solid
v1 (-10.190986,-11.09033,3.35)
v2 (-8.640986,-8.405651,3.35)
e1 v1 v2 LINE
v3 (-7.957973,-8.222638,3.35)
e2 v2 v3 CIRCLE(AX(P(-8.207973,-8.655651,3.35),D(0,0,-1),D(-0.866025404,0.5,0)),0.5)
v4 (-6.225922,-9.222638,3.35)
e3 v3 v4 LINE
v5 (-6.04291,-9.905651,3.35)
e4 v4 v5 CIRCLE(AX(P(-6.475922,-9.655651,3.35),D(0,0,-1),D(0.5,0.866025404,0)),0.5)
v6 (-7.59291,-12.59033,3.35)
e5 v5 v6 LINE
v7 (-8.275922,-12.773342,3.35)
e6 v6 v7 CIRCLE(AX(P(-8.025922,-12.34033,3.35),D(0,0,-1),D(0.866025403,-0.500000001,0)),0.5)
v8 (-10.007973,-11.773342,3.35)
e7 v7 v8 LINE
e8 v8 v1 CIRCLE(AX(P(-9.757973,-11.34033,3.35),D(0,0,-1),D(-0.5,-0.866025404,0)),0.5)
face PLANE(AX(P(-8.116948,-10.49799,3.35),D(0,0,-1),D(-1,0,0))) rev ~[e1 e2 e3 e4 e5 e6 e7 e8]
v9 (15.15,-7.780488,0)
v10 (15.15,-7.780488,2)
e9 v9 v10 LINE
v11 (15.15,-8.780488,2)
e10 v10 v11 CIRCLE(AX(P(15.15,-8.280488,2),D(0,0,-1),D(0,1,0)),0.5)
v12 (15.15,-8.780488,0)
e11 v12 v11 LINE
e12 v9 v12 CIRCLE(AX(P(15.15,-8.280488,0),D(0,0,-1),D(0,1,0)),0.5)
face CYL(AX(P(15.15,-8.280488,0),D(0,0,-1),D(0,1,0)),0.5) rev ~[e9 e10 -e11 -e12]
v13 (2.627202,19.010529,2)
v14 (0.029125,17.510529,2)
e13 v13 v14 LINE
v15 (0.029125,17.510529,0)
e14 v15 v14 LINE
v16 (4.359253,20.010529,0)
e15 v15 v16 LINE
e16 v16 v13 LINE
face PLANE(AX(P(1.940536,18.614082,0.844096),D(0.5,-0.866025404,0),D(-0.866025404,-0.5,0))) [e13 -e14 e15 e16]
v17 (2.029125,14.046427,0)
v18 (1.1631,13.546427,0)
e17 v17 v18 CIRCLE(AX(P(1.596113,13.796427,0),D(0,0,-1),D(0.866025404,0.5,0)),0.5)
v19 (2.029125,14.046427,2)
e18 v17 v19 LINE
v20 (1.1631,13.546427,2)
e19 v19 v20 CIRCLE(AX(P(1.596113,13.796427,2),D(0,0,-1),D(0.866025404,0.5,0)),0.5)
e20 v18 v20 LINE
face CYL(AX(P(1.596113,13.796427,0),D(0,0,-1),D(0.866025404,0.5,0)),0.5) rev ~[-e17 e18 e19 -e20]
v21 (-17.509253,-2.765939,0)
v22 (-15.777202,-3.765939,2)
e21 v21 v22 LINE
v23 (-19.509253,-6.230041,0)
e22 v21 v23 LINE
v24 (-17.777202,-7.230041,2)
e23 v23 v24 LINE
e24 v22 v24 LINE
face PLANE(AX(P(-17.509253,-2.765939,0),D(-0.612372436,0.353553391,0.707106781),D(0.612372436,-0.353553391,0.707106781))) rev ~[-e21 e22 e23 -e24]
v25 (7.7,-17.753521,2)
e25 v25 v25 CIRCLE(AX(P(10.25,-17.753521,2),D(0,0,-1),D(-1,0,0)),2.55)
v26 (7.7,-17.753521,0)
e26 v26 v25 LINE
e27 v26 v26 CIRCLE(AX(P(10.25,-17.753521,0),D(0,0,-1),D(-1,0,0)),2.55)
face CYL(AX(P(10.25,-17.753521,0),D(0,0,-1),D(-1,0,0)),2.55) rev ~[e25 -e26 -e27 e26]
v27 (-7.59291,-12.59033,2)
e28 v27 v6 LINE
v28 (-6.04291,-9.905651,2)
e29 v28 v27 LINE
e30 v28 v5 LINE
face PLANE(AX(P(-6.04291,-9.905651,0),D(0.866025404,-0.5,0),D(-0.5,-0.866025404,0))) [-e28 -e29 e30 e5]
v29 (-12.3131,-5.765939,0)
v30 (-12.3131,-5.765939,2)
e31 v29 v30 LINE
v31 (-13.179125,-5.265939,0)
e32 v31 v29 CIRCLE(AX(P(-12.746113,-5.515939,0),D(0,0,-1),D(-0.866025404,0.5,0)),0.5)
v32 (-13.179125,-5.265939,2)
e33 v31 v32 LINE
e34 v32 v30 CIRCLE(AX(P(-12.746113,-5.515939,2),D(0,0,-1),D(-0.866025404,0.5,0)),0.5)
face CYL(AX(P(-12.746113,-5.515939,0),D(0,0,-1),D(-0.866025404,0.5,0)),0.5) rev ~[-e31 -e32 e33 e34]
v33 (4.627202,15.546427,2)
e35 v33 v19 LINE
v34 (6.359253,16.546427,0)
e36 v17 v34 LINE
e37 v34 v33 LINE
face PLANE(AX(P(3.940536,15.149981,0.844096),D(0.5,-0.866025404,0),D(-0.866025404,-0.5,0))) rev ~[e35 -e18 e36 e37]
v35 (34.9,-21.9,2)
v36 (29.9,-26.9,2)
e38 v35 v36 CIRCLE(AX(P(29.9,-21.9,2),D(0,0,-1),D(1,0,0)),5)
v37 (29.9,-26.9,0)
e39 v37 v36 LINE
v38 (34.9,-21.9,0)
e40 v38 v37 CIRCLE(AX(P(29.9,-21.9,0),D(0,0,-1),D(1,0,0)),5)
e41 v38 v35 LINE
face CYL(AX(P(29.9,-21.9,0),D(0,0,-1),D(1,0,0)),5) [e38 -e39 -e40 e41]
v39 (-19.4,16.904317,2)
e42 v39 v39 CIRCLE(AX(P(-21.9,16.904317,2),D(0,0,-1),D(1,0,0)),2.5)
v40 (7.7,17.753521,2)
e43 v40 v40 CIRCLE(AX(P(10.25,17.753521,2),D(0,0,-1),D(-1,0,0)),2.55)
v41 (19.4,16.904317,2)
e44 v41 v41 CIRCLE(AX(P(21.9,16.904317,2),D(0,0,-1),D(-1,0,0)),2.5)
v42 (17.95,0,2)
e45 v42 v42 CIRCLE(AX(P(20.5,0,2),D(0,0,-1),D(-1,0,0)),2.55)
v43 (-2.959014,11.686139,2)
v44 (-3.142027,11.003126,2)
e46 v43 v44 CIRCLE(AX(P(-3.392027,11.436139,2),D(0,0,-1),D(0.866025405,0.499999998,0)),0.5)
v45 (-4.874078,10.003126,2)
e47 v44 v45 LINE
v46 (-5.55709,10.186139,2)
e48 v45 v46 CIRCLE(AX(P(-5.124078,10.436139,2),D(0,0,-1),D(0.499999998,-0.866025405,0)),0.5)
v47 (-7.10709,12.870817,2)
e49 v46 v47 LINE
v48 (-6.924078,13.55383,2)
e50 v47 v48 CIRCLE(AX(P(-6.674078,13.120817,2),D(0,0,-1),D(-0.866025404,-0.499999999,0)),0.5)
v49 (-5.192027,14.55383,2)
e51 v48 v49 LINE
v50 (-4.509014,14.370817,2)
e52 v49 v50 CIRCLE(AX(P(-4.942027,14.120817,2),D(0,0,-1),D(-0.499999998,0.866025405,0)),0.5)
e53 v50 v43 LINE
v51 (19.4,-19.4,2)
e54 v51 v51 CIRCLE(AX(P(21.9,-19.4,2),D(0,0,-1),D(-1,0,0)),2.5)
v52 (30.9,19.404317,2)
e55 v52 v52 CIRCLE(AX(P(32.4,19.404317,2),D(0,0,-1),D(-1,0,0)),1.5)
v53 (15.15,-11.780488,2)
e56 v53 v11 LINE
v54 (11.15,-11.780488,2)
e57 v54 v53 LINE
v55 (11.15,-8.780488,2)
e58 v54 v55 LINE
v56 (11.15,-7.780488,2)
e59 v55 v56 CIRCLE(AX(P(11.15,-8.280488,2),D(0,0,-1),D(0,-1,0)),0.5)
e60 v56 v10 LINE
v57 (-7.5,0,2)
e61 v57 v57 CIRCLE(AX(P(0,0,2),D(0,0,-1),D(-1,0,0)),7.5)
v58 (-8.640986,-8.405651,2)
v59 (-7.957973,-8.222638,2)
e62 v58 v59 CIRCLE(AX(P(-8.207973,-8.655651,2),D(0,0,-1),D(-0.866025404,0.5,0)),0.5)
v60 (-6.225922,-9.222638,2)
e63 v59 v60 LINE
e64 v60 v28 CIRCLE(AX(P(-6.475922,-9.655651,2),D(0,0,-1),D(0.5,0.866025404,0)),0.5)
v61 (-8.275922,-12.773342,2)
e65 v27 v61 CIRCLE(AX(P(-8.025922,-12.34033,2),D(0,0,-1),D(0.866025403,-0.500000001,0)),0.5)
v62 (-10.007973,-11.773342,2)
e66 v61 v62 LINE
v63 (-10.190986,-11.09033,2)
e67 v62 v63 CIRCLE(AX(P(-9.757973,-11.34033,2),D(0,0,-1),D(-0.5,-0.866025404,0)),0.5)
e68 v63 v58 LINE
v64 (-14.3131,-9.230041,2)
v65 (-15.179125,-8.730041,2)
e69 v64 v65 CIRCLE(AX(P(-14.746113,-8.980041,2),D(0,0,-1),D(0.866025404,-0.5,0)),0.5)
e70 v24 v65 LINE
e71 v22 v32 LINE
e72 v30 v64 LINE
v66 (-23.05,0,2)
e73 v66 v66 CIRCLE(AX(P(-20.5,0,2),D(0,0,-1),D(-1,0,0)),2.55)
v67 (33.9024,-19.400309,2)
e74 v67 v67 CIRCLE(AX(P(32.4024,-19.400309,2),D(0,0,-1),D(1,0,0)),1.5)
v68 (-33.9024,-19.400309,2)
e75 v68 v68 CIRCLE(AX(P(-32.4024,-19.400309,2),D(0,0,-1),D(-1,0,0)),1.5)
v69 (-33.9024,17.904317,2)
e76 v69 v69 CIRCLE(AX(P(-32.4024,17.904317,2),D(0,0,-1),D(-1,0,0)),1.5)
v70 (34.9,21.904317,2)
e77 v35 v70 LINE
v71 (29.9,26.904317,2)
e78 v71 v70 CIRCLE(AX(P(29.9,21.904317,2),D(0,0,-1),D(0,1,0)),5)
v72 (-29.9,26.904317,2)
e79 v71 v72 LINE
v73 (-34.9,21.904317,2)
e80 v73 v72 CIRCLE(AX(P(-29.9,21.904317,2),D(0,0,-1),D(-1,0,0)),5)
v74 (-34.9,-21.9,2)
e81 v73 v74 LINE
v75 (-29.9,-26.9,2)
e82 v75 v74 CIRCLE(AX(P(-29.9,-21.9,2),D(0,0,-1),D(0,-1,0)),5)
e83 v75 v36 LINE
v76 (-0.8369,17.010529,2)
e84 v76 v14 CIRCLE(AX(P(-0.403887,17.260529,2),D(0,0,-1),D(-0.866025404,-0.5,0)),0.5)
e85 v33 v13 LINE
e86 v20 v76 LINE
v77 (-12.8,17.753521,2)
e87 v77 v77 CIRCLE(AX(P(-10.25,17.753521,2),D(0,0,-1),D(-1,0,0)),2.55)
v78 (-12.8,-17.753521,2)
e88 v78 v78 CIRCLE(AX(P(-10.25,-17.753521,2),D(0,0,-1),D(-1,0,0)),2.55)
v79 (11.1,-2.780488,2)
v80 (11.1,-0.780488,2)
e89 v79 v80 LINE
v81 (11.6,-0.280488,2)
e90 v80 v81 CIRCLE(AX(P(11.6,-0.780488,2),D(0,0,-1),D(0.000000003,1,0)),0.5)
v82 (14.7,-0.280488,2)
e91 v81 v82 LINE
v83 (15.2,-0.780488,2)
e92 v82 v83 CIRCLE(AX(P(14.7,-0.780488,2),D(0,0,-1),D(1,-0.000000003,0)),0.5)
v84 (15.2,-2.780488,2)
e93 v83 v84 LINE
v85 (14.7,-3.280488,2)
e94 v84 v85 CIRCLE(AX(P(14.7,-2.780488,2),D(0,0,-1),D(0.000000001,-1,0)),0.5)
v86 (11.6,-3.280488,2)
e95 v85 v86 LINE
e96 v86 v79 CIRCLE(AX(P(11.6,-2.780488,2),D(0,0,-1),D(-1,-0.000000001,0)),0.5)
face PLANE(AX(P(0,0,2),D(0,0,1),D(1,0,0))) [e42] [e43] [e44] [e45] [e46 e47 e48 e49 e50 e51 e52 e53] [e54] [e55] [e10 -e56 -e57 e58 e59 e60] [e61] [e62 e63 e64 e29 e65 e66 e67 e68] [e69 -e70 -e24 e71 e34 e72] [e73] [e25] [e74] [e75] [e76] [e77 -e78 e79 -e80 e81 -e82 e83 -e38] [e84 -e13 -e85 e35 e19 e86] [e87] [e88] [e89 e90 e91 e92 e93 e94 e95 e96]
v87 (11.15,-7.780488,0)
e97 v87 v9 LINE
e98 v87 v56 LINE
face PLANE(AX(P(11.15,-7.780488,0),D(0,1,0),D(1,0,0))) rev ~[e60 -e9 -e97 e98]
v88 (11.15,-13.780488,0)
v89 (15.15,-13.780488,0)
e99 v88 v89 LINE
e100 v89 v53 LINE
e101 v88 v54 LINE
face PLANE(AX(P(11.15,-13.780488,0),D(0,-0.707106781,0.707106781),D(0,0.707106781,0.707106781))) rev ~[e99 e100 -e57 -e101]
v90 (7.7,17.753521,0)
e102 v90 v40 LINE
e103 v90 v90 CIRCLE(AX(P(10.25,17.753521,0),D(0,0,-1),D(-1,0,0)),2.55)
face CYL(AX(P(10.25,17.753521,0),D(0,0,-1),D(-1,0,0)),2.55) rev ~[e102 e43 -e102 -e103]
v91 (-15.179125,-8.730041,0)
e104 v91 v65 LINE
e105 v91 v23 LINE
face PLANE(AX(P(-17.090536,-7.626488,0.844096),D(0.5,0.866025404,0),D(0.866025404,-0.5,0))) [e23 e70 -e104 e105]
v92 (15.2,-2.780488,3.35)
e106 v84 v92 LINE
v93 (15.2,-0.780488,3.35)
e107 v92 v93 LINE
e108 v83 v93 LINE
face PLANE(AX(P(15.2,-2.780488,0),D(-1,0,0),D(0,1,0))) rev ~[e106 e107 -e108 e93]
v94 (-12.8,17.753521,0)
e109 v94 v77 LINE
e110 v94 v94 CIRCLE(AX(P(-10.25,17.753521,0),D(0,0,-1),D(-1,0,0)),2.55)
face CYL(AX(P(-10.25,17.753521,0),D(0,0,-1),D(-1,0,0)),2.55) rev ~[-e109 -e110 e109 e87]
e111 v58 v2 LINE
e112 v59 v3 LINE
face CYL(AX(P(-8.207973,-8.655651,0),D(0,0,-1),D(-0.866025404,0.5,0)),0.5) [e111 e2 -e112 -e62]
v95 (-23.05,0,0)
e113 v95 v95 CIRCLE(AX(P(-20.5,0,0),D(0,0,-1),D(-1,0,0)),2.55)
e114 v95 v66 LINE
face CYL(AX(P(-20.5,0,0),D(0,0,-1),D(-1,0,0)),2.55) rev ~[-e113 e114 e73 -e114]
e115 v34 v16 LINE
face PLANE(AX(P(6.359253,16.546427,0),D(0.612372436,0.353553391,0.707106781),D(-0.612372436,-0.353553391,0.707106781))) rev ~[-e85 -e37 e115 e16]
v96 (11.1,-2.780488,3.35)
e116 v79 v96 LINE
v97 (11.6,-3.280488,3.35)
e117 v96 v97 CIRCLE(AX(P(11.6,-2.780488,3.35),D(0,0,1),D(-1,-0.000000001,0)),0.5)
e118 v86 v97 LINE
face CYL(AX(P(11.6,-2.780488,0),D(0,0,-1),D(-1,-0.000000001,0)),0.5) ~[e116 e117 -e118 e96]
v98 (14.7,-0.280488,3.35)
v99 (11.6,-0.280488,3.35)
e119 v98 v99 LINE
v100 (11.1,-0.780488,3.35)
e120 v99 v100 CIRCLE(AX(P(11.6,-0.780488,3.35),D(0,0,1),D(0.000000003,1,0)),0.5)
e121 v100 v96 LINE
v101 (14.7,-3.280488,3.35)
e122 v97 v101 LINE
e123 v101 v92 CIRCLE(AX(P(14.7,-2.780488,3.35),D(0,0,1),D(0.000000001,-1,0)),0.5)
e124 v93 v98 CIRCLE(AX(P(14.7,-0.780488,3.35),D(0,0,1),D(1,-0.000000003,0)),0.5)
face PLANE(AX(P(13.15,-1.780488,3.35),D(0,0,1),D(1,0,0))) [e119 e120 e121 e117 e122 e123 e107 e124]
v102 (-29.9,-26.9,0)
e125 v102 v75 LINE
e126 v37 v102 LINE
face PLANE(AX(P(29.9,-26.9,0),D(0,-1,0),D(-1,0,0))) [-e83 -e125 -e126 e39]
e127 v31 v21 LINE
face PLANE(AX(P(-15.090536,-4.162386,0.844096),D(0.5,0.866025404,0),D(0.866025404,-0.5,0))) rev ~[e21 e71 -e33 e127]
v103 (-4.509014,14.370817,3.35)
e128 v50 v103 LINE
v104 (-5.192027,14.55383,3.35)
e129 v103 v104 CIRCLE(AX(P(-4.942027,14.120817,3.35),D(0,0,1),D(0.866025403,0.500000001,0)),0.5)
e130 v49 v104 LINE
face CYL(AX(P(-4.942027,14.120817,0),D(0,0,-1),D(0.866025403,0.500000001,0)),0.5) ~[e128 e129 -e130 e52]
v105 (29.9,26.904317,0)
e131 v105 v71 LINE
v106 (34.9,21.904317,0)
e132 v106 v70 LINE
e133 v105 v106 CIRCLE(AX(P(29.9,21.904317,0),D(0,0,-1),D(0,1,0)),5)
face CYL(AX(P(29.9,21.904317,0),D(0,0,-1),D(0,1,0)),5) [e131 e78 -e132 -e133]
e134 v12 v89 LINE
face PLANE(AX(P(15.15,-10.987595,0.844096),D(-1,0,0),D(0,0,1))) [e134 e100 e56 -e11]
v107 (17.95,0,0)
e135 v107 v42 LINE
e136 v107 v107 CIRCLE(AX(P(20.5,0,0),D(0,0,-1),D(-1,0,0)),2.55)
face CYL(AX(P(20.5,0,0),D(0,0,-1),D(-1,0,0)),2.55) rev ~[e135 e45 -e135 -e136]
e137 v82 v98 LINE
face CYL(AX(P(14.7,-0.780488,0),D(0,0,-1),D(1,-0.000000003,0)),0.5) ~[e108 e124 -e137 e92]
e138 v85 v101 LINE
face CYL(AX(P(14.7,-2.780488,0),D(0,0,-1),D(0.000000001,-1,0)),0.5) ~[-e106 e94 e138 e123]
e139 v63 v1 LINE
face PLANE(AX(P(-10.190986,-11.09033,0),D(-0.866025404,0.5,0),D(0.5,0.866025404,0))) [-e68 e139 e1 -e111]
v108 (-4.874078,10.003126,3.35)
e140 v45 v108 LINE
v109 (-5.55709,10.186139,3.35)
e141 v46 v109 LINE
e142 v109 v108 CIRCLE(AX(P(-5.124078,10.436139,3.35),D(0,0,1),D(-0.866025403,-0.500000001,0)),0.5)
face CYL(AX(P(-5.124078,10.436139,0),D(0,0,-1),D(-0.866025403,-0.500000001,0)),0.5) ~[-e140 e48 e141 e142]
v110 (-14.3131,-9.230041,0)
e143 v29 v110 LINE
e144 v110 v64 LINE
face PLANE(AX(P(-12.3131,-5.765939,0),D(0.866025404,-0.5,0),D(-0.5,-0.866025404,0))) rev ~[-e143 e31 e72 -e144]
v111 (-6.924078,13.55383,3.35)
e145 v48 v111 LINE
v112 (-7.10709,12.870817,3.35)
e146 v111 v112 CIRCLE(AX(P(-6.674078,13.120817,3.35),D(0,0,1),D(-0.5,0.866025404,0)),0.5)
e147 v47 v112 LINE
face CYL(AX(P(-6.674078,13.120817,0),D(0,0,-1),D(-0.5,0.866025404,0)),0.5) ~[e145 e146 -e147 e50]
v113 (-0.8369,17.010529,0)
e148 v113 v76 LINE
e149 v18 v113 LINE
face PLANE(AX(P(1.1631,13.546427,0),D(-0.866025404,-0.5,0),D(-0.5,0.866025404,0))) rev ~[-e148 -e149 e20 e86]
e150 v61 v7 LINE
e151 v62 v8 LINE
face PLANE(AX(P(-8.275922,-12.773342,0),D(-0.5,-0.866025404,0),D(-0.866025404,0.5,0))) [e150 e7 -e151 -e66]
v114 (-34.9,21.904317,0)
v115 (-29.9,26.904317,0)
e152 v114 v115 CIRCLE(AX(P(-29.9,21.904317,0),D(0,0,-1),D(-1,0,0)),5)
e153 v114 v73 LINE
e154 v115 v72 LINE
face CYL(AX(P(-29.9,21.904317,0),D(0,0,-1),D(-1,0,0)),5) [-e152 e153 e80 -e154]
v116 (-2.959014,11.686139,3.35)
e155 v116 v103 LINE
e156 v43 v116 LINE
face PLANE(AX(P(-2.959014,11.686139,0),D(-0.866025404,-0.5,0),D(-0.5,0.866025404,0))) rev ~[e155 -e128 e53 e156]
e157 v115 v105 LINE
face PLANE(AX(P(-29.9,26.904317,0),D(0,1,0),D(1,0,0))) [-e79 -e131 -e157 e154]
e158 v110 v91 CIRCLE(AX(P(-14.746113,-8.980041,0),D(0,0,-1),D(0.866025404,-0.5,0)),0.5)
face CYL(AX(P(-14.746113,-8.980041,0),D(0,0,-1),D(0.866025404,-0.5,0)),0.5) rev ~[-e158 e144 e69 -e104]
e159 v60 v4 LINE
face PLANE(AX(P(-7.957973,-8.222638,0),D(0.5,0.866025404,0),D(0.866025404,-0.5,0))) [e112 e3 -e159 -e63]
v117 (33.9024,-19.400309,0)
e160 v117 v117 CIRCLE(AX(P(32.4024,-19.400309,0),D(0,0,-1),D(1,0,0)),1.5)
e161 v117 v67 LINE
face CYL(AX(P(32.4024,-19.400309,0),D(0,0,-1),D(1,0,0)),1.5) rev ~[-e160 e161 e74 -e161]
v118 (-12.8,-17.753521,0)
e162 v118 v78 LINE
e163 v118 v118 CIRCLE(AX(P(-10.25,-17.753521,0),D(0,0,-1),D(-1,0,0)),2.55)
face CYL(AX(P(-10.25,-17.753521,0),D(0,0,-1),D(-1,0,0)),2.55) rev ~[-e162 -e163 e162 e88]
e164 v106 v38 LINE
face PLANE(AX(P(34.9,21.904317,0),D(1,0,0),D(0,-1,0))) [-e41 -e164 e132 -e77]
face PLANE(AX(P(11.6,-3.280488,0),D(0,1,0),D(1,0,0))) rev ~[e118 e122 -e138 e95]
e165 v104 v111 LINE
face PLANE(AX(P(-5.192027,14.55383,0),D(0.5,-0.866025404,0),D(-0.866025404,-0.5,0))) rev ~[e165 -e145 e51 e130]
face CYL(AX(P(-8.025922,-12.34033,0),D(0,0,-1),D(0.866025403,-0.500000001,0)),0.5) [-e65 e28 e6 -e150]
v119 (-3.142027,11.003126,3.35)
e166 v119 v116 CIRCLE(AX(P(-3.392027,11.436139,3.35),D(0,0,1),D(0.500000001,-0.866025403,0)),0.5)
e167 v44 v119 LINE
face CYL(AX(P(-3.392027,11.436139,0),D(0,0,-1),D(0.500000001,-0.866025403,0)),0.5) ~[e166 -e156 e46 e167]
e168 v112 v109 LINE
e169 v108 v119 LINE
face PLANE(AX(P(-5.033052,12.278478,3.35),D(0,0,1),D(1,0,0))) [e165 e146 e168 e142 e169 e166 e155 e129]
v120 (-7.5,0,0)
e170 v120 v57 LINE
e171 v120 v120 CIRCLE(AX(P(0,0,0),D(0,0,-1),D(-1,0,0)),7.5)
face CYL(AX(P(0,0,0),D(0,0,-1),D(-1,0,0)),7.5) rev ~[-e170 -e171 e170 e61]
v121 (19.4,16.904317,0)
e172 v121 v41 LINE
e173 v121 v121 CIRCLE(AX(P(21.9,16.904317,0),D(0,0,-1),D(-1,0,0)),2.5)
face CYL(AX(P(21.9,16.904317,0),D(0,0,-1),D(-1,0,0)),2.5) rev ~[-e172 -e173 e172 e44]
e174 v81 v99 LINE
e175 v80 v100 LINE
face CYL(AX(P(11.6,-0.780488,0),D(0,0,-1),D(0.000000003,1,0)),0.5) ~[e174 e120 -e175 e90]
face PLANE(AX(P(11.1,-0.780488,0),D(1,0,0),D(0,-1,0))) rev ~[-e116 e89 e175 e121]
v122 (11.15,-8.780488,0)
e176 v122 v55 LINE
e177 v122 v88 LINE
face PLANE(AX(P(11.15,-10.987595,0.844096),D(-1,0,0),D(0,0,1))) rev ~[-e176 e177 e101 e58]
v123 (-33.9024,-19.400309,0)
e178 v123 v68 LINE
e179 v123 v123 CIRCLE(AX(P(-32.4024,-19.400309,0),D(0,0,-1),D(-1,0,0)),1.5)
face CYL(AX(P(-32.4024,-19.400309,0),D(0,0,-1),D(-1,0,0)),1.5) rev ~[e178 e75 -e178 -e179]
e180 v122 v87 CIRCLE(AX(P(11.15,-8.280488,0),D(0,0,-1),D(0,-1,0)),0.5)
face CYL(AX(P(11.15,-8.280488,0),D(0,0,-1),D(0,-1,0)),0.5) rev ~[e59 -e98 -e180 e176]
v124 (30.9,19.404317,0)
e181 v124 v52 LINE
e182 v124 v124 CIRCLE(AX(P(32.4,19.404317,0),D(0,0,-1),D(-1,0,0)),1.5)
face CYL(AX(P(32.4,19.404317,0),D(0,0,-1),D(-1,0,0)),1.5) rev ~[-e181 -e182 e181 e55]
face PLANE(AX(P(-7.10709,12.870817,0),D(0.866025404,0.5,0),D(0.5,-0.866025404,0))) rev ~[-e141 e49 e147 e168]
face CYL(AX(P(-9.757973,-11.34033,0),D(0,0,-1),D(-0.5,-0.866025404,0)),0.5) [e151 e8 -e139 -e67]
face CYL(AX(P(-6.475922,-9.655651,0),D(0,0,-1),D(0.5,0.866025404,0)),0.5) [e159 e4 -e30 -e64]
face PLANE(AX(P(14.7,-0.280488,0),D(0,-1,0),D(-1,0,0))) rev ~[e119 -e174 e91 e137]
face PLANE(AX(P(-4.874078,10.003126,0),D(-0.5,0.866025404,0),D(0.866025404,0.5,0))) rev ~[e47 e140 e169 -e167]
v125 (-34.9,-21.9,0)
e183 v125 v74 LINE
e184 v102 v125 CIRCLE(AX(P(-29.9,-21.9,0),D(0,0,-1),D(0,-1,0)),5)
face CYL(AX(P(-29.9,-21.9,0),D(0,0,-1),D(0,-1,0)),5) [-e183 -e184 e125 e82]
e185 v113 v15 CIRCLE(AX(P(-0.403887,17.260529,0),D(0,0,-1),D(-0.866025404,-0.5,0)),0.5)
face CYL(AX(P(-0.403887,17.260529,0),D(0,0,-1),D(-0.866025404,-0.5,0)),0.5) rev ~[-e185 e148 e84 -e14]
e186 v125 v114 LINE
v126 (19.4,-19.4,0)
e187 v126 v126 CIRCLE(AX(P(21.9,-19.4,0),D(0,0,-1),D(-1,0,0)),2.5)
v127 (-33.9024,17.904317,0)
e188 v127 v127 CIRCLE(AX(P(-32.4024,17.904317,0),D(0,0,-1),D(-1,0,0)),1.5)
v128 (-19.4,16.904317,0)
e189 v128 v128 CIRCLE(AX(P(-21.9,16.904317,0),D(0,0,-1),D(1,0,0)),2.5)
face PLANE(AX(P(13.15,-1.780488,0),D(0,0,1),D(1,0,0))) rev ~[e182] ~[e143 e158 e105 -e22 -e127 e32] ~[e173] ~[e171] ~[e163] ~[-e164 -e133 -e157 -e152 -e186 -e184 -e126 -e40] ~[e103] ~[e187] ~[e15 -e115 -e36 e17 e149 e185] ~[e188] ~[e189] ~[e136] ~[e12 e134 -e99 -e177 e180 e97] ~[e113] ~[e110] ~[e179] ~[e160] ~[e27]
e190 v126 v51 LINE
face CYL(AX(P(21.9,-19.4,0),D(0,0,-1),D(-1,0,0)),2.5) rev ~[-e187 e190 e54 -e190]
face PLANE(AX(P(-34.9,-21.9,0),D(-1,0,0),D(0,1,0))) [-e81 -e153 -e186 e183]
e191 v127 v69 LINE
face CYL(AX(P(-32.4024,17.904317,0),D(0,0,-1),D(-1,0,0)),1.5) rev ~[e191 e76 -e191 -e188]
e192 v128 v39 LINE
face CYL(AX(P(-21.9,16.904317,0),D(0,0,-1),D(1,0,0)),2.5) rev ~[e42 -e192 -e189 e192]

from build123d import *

# Parameters (mm, degrees)
SKETCH_1_W          = 76
SKETCH_1_H          = 60
EXTRUDE_1_DEPTH     = 2
EXTRUDE_2_DEPTH     = 3.35
SKETCH_2_W          = 76
SKETCH_2_H          = 60
CUT_EXTRUDE_1_DEPTH = 2.95
SKETCH_3_R          = 2.55
CUT_EXTRUDE_2_DEPTH = 45.193605611
SKETCH_4_R          = 7.5
CUT_EXTRUDE_3_DEPTH = 45.193605611
SKETCH_5_R          = 1.5
CUT_EXTRUDE_4_DEPTH = 45.193605611
SKETCH_6_R          = 2.5
CUT_EXTRUDE_5_DEPTH = 45.193605611
CUT_EXTRUDE_6_DEPTH = 4
CUT_EXTRUDE_7_DEPTH = 4
CUT_EXTRUDE_8_DEPTH = 4


with BuildPart() as part:
    # 草圖1 → 填料-伸長1 (new body)
    with BuildSketch(Plane.XY):
        Rectangle(SKETCH_1_W, SKETCH_1_H)
        with BuildLine():
            ThreePointArc((-6.225922266, -9.22263808), (-5.992959353, -9.526241259), (-6.042909564, -9.905650781))
            Line((-6.042909564, -9.905650781), (-7.592909564, -12.590329533))
            ThreePointArc((-7.592909564, -12.590329533), (-7.896512744, -12.823292446), (-8.275922266, -12.773342235))
            Line((-8.275922266, -12.773342235), (-10.007973074, -11.773342235))
            ThreePointArc((-10.007973074, -11.773342235), (-10.240935987, -11.469739056), (-10.190985776, -11.090329533))
            Line((-10.190985776, -11.090329533), (-8.640985776, -8.405650781))
            ThreePointArc((-8.640985776, -8.405650781), (-8.337382596, -8.172687868), (-7.957973074, -8.22263808))
            Line((-7.957973074, -8.22263808), (-6.225922266, -9.22263808))
        make_face(mode=Mode.SUBTRACT)
        with BuildLine():
            Line((-12.313100093, -5.76593935), (-14.313100093, -9.230040965))
            ThreePointArc((-14.313100093, -9.230040965), (-14.996112795, -9.413053667), (-15.179125497, -8.730040965))
            Line((-15.179125497, -8.730040965), (-13.179125497, -5.26593935))
            ThreePointArc((-13.179125497, -5.26593935), (-12.496112795, -5.082926648), (-12.313100093, -5.76593935))
        make_face(mode=Mode.SUBTRACT)
        with BuildLine():
            ThreePointArc((11.15, -8.780487805), (10.65, -8.280487805), (11.15, -7.780487805))
            Line((11.15, -7.780487805), (15.15, -7.780487805))
            ThreePointArc((15.15, -7.780487805), (15.65, -8.280487805), (15.15, -8.780487805))
            Line((15.15, -8.780487805), (11.15, -8.780487805))
        make_face(mode=Mode.SUBTRACT)
        with BuildLine():
            Line((-5.557090436, 10.186138586), (-7.107090436, 12.870817338))
            ThreePointArc((-7.107090436, 12.870817338), (-7.157040647, 13.250226861), (-6.924077734, 13.55383004))
            Line((-6.924077734, 13.55383004), (-5.192026926, 14.55383004))
            ThreePointArc((-5.192026926, 14.55383004), (-4.812617404, 14.603780251), (-4.509014224, 14.370817338))
            Line((-4.509014224, 14.370817338), (-2.959014224, 11.686138586))
            ThreePointArc((-2.959014224, 11.686138586), (-2.909064013, 11.306729064), (-3.142026926, 11.003125884))
            Line((-3.142026926, 11.003125884), (-4.874077734, 10.003125884))
            ThreePointArc((-4.874077734, 10.003125884), (-5.253487256, 9.953175673), (-5.557090436, 10.186138586))
        make_face(mode=Mode.SUBTRACT)
        with BuildLine():
            Line((1.163100093, 13.546427155), (-0.836899907, 17.01052877))
            ThreePointArc((-0.836899907, 17.01052877), (-0.653887205, 17.693541472), (0.029125497, 17.51052877))
            Line((0.029125497, 17.51052877), (2.029125497, 14.046427155))
            ThreePointArc((2.029125497, 14.046427155), (1.846112795, 13.363414453), (1.163100093, 13.546427155))
        make_face(mode=Mode.SUBTRACT)
    extrude(amount=EXTRUDE_1_DEPTH)

    # 草圖1<3> → 填料-伸長2 (add)
    with BuildSketch(Plane.XY):
        with BuildLine():
            Line((14.7, -0.280487805), (11.6, -0.280487805))
            ThreePointArc((11.6, -0.280487805), (11.246446609, -0.426934414), (11.1, -0.780487805))
            Line((11.1, -0.780487805), (11.1, -2.780487805))
            ThreePointArc((11.1, -2.780487805), (11.246446609, -3.134041195), (11.6, -3.280487805))
            Line((11.6, -3.280487805), (14.7, -3.280487805))
            ThreePointArc((14.7, -3.280487805), (15.053553391, -3.134041195), (15.2, -2.780487805))
            Line((15.2, -2.780487805), (15.2, -0.780487805))
            ThreePointArc((15.2, -0.780487805), (15.053553391, -0.426934414), (14.7, -0.280487805))
        make_face()
        with BuildLine():
            Line((-7.107090436, 12.870817338), (-5.557090436, 10.186138586))
            ThreePointArc((-5.557090436, 10.186138586), (-5.253487256, 9.953175673), (-4.874077734, 10.003125884))
            Line((-4.874077734, 10.003125884), (-3.142026926, 11.003125884))
            ThreePointArc((-3.142026926, 11.003125884), (-2.909064013, 11.306729064), (-2.959014224, 11.686138586))
            Line((-2.959014224, 11.686138586), (-4.509014224, 14.370817338))
            ThreePointArc((-4.509014224, 14.370817338), (-4.812617404, 14.603780251), (-5.192026926, 14.55383004))
            Line((-5.192026926, 14.55383004), (-6.924077734, 13.55383004))
            ThreePointArc((-6.924077734, 13.55383004), (-7.157040647, 13.250226861), (-7.107090436, 12.870817338))
        make_face()
        with BuildLine():
            Line((-6.042909564, -9.905650781), (-7.592909564, -12.590329533))
            ThreePointArc((-7.592909564, -12.590329533), (-7.896512744, -12.823292446), (-8.275922266, -12.773342235))
            Line((-8.275922266, -12.773342235), (-10.007973074, -11.773342235))
            ThreePointArc((-10.007973074, -11.773342235), (-10.240935987, -11.469739056), (-10.190985776, -11.090329533))
            Line((-10.190985776, -11.090329533), (-8.640985776, -8.405650781))
            ThreePointArc((-8.640985776, -8.405650781), (-8.337382596, -8.172687868), (-7.957973074, -8.22263808))
            Line((-7.957973074, -8.22263808), (-6.225922266, -9.22263808))
            ThreePointArc((-6.225922266, -9.22263808), (-5.992959353, -9.526241259), (-6.042909564, -9.905650781))
        make_face()
    extrude(amount=EXTRUDE_2_DEPTH)

    # 草圖2 → 除料-伸長1 (cut)
    with BuildSketch(Plane(origin=(0, 0, 0), x_dir=(-1, 0, 0), z_dir=(0, 0, -1))):
        Rectangle(SKETCH_2_W, SKETCH_2_H)
        with BuildLine():
            ThreePointArc((-29.9, 26.904317068), (-33.435533906, 25.439850974), (-34.9, 21.904317068))
            Line((-34.9, 21.904317068), (-34.9, -21.9))
            ThreePointArc((-34.9, -21.9), (-33.435533906, -25.435533906), (-29.9, -26.9))
            Line((-29.9, -26.9), (29.9, -26.9))
            ThreePointArc((29.9, -26.9), (33.435533906, -25.435533906), (34.9, -21.9))
            Line((34.9, -21.9), (34.9, 21.904317068))
            ThreePointArc((34.9, 21.904317068), (33.435533906, 25.439850974), (29.9, 26.904317068))
            Line((29.9, 26.904317068), (-29.9, 26.904317068))
        make_face(mode=Mode.SUBTRACT)
    extrude(amount=-CUT_EXTRUDE_1_DEPTH, mode=Mode.SUBTRACT)

    # 草圖3 → 除料-伸長2 (cut, through all)
    with BuildSketch(Plane(origin=(0, 0, 0), x_dir=(-1, 0, 0), z_dir=(0, 0, -1))):
        with Locations((20.5, 0)):
            Circle(SKETCH_3_R)
        with Locations((-20.5, 0)):
            Circle(SKETCH_3_R)
        with Locations((-10.25, -17.753520778)):
            Circle(SKETCH_3_R)
        with Locations((-10.25, 17.753520778)):
            Circle(SKETCH_3_R)
        with Locations((10.25, 17.753520778)):
            Circle(SKETCH_3_R)
        with Locations((10.25, -17.753520778)):
            Circle(SKETCH_3_R)
    extrude(amount=-CUT_EXTRUDE_2_DEPTH, mode=Mode.SUBTRACT)

    # 草圖4 → 除料-伸長3 (cut, through all)
    with BuildSketch(Plane(origin=(0, 0, 0), x_dir=(-1, 0, 0), z_dir=(0, 0, -1))):
        Circle(SKETCH_4_R)
    extrude(amount=-CUT_EXTRUDE_3_DEPTH, mode=Mode.SUBTRACT)

    # 草圖5 → 除料-伸長4 (cut, through all)
    with BuildSketch(Plane(origin=(0, 0, 0), x_dir=(-1, 0, 0), z_dir=(0, 0, -1))):
        with Locations((-32.4, 19.404317068)):
            Circle(SKETCH_5_R)
        with Locations(Location((-32.402400032, -19.400309097, 0), (0, 0, 180))):
            Circle(SKETCH_5_R)
        with Locations((32.402400032, -19.400309097)):
            Circle(SKETCH_5_R)
        with Locations((32.402400032, 17.904317068)):
            Circle(SKETCH_5_R)
    extrude(amount=-CUT_EXTRUDE_4_DEPTH, mode=Mode.SUBTRACT)

    # 草圖6 → 除料-伸長5 (cut, through all)
    with BuildSketch(Plane(origin=(0, 0, 0), x_dir=(-1, 0, 0), z_dir=(0, 0, -1))):
        with Locations((-21.9, 16.904317068)):
            Circle(SKETCH_6_R)
        with Locations(Location((21.9, 16.904317068, 0), (0, 0, 180))):
            Circle(SKETCH_6_R)
        with Locations((-21.9, -19.4)):
            Circle(SKETCH_6_R)
    extrude(amount=-CUT_EXTRUDE_5_DEPTH, mode=Mode.SUBTRACT)

    # 草圖7 → 除料-伸長6 (cut)
    with BuildSketch(Plane.ZY.offset(-11.15)):
        Polygon((2, -8.780487805), (0, -8.780487805), (0, -13.780487805), (2, -11.780487805), align=None)
    extrude(amount=-CUT_EXTRUDE_6_DEPTH, mode=Mode.SUBTRACT)

    # 草圖8 → 除料-伸長7 (cut)
    with BuildSketch(Plane(origin=(-5.575, 9.656183252, 0), x_dir=(-0.8660254037844417, -0.4999999999999947, 0), z_dir=(0.49999999999999484, -0.8660254037844418, 0))):
        Polygon((-8.780487805, -2), (-8.780487805, 0), (-13.780487805, 0), (-11.780487805, -2), align=None)
    extrude(amount=-CUT_EXTRUDE_7_DEPTH, mode=Mode.SUBTRACT)

    # 草圖9 → 除料-伸長8 (cut)
    with BuildSketch(Plane(origin=(-5.575, -9.656183252, 0), x_dir=(0.8660254037844359, -0.5000000000000049, 0), z_dir=(0.5000000000000048, 0.8660254037844358, 0))):
        Polygon((-8.780487805, -2), (-8.780487805, 0), (-13.780487805, 0), (-11.780487805, -2), align=None)
    extrude(amount=-CUT_EXTRUDE_8_DEPTH, mode=Mode.SUBTRACT)


solid = part.part
